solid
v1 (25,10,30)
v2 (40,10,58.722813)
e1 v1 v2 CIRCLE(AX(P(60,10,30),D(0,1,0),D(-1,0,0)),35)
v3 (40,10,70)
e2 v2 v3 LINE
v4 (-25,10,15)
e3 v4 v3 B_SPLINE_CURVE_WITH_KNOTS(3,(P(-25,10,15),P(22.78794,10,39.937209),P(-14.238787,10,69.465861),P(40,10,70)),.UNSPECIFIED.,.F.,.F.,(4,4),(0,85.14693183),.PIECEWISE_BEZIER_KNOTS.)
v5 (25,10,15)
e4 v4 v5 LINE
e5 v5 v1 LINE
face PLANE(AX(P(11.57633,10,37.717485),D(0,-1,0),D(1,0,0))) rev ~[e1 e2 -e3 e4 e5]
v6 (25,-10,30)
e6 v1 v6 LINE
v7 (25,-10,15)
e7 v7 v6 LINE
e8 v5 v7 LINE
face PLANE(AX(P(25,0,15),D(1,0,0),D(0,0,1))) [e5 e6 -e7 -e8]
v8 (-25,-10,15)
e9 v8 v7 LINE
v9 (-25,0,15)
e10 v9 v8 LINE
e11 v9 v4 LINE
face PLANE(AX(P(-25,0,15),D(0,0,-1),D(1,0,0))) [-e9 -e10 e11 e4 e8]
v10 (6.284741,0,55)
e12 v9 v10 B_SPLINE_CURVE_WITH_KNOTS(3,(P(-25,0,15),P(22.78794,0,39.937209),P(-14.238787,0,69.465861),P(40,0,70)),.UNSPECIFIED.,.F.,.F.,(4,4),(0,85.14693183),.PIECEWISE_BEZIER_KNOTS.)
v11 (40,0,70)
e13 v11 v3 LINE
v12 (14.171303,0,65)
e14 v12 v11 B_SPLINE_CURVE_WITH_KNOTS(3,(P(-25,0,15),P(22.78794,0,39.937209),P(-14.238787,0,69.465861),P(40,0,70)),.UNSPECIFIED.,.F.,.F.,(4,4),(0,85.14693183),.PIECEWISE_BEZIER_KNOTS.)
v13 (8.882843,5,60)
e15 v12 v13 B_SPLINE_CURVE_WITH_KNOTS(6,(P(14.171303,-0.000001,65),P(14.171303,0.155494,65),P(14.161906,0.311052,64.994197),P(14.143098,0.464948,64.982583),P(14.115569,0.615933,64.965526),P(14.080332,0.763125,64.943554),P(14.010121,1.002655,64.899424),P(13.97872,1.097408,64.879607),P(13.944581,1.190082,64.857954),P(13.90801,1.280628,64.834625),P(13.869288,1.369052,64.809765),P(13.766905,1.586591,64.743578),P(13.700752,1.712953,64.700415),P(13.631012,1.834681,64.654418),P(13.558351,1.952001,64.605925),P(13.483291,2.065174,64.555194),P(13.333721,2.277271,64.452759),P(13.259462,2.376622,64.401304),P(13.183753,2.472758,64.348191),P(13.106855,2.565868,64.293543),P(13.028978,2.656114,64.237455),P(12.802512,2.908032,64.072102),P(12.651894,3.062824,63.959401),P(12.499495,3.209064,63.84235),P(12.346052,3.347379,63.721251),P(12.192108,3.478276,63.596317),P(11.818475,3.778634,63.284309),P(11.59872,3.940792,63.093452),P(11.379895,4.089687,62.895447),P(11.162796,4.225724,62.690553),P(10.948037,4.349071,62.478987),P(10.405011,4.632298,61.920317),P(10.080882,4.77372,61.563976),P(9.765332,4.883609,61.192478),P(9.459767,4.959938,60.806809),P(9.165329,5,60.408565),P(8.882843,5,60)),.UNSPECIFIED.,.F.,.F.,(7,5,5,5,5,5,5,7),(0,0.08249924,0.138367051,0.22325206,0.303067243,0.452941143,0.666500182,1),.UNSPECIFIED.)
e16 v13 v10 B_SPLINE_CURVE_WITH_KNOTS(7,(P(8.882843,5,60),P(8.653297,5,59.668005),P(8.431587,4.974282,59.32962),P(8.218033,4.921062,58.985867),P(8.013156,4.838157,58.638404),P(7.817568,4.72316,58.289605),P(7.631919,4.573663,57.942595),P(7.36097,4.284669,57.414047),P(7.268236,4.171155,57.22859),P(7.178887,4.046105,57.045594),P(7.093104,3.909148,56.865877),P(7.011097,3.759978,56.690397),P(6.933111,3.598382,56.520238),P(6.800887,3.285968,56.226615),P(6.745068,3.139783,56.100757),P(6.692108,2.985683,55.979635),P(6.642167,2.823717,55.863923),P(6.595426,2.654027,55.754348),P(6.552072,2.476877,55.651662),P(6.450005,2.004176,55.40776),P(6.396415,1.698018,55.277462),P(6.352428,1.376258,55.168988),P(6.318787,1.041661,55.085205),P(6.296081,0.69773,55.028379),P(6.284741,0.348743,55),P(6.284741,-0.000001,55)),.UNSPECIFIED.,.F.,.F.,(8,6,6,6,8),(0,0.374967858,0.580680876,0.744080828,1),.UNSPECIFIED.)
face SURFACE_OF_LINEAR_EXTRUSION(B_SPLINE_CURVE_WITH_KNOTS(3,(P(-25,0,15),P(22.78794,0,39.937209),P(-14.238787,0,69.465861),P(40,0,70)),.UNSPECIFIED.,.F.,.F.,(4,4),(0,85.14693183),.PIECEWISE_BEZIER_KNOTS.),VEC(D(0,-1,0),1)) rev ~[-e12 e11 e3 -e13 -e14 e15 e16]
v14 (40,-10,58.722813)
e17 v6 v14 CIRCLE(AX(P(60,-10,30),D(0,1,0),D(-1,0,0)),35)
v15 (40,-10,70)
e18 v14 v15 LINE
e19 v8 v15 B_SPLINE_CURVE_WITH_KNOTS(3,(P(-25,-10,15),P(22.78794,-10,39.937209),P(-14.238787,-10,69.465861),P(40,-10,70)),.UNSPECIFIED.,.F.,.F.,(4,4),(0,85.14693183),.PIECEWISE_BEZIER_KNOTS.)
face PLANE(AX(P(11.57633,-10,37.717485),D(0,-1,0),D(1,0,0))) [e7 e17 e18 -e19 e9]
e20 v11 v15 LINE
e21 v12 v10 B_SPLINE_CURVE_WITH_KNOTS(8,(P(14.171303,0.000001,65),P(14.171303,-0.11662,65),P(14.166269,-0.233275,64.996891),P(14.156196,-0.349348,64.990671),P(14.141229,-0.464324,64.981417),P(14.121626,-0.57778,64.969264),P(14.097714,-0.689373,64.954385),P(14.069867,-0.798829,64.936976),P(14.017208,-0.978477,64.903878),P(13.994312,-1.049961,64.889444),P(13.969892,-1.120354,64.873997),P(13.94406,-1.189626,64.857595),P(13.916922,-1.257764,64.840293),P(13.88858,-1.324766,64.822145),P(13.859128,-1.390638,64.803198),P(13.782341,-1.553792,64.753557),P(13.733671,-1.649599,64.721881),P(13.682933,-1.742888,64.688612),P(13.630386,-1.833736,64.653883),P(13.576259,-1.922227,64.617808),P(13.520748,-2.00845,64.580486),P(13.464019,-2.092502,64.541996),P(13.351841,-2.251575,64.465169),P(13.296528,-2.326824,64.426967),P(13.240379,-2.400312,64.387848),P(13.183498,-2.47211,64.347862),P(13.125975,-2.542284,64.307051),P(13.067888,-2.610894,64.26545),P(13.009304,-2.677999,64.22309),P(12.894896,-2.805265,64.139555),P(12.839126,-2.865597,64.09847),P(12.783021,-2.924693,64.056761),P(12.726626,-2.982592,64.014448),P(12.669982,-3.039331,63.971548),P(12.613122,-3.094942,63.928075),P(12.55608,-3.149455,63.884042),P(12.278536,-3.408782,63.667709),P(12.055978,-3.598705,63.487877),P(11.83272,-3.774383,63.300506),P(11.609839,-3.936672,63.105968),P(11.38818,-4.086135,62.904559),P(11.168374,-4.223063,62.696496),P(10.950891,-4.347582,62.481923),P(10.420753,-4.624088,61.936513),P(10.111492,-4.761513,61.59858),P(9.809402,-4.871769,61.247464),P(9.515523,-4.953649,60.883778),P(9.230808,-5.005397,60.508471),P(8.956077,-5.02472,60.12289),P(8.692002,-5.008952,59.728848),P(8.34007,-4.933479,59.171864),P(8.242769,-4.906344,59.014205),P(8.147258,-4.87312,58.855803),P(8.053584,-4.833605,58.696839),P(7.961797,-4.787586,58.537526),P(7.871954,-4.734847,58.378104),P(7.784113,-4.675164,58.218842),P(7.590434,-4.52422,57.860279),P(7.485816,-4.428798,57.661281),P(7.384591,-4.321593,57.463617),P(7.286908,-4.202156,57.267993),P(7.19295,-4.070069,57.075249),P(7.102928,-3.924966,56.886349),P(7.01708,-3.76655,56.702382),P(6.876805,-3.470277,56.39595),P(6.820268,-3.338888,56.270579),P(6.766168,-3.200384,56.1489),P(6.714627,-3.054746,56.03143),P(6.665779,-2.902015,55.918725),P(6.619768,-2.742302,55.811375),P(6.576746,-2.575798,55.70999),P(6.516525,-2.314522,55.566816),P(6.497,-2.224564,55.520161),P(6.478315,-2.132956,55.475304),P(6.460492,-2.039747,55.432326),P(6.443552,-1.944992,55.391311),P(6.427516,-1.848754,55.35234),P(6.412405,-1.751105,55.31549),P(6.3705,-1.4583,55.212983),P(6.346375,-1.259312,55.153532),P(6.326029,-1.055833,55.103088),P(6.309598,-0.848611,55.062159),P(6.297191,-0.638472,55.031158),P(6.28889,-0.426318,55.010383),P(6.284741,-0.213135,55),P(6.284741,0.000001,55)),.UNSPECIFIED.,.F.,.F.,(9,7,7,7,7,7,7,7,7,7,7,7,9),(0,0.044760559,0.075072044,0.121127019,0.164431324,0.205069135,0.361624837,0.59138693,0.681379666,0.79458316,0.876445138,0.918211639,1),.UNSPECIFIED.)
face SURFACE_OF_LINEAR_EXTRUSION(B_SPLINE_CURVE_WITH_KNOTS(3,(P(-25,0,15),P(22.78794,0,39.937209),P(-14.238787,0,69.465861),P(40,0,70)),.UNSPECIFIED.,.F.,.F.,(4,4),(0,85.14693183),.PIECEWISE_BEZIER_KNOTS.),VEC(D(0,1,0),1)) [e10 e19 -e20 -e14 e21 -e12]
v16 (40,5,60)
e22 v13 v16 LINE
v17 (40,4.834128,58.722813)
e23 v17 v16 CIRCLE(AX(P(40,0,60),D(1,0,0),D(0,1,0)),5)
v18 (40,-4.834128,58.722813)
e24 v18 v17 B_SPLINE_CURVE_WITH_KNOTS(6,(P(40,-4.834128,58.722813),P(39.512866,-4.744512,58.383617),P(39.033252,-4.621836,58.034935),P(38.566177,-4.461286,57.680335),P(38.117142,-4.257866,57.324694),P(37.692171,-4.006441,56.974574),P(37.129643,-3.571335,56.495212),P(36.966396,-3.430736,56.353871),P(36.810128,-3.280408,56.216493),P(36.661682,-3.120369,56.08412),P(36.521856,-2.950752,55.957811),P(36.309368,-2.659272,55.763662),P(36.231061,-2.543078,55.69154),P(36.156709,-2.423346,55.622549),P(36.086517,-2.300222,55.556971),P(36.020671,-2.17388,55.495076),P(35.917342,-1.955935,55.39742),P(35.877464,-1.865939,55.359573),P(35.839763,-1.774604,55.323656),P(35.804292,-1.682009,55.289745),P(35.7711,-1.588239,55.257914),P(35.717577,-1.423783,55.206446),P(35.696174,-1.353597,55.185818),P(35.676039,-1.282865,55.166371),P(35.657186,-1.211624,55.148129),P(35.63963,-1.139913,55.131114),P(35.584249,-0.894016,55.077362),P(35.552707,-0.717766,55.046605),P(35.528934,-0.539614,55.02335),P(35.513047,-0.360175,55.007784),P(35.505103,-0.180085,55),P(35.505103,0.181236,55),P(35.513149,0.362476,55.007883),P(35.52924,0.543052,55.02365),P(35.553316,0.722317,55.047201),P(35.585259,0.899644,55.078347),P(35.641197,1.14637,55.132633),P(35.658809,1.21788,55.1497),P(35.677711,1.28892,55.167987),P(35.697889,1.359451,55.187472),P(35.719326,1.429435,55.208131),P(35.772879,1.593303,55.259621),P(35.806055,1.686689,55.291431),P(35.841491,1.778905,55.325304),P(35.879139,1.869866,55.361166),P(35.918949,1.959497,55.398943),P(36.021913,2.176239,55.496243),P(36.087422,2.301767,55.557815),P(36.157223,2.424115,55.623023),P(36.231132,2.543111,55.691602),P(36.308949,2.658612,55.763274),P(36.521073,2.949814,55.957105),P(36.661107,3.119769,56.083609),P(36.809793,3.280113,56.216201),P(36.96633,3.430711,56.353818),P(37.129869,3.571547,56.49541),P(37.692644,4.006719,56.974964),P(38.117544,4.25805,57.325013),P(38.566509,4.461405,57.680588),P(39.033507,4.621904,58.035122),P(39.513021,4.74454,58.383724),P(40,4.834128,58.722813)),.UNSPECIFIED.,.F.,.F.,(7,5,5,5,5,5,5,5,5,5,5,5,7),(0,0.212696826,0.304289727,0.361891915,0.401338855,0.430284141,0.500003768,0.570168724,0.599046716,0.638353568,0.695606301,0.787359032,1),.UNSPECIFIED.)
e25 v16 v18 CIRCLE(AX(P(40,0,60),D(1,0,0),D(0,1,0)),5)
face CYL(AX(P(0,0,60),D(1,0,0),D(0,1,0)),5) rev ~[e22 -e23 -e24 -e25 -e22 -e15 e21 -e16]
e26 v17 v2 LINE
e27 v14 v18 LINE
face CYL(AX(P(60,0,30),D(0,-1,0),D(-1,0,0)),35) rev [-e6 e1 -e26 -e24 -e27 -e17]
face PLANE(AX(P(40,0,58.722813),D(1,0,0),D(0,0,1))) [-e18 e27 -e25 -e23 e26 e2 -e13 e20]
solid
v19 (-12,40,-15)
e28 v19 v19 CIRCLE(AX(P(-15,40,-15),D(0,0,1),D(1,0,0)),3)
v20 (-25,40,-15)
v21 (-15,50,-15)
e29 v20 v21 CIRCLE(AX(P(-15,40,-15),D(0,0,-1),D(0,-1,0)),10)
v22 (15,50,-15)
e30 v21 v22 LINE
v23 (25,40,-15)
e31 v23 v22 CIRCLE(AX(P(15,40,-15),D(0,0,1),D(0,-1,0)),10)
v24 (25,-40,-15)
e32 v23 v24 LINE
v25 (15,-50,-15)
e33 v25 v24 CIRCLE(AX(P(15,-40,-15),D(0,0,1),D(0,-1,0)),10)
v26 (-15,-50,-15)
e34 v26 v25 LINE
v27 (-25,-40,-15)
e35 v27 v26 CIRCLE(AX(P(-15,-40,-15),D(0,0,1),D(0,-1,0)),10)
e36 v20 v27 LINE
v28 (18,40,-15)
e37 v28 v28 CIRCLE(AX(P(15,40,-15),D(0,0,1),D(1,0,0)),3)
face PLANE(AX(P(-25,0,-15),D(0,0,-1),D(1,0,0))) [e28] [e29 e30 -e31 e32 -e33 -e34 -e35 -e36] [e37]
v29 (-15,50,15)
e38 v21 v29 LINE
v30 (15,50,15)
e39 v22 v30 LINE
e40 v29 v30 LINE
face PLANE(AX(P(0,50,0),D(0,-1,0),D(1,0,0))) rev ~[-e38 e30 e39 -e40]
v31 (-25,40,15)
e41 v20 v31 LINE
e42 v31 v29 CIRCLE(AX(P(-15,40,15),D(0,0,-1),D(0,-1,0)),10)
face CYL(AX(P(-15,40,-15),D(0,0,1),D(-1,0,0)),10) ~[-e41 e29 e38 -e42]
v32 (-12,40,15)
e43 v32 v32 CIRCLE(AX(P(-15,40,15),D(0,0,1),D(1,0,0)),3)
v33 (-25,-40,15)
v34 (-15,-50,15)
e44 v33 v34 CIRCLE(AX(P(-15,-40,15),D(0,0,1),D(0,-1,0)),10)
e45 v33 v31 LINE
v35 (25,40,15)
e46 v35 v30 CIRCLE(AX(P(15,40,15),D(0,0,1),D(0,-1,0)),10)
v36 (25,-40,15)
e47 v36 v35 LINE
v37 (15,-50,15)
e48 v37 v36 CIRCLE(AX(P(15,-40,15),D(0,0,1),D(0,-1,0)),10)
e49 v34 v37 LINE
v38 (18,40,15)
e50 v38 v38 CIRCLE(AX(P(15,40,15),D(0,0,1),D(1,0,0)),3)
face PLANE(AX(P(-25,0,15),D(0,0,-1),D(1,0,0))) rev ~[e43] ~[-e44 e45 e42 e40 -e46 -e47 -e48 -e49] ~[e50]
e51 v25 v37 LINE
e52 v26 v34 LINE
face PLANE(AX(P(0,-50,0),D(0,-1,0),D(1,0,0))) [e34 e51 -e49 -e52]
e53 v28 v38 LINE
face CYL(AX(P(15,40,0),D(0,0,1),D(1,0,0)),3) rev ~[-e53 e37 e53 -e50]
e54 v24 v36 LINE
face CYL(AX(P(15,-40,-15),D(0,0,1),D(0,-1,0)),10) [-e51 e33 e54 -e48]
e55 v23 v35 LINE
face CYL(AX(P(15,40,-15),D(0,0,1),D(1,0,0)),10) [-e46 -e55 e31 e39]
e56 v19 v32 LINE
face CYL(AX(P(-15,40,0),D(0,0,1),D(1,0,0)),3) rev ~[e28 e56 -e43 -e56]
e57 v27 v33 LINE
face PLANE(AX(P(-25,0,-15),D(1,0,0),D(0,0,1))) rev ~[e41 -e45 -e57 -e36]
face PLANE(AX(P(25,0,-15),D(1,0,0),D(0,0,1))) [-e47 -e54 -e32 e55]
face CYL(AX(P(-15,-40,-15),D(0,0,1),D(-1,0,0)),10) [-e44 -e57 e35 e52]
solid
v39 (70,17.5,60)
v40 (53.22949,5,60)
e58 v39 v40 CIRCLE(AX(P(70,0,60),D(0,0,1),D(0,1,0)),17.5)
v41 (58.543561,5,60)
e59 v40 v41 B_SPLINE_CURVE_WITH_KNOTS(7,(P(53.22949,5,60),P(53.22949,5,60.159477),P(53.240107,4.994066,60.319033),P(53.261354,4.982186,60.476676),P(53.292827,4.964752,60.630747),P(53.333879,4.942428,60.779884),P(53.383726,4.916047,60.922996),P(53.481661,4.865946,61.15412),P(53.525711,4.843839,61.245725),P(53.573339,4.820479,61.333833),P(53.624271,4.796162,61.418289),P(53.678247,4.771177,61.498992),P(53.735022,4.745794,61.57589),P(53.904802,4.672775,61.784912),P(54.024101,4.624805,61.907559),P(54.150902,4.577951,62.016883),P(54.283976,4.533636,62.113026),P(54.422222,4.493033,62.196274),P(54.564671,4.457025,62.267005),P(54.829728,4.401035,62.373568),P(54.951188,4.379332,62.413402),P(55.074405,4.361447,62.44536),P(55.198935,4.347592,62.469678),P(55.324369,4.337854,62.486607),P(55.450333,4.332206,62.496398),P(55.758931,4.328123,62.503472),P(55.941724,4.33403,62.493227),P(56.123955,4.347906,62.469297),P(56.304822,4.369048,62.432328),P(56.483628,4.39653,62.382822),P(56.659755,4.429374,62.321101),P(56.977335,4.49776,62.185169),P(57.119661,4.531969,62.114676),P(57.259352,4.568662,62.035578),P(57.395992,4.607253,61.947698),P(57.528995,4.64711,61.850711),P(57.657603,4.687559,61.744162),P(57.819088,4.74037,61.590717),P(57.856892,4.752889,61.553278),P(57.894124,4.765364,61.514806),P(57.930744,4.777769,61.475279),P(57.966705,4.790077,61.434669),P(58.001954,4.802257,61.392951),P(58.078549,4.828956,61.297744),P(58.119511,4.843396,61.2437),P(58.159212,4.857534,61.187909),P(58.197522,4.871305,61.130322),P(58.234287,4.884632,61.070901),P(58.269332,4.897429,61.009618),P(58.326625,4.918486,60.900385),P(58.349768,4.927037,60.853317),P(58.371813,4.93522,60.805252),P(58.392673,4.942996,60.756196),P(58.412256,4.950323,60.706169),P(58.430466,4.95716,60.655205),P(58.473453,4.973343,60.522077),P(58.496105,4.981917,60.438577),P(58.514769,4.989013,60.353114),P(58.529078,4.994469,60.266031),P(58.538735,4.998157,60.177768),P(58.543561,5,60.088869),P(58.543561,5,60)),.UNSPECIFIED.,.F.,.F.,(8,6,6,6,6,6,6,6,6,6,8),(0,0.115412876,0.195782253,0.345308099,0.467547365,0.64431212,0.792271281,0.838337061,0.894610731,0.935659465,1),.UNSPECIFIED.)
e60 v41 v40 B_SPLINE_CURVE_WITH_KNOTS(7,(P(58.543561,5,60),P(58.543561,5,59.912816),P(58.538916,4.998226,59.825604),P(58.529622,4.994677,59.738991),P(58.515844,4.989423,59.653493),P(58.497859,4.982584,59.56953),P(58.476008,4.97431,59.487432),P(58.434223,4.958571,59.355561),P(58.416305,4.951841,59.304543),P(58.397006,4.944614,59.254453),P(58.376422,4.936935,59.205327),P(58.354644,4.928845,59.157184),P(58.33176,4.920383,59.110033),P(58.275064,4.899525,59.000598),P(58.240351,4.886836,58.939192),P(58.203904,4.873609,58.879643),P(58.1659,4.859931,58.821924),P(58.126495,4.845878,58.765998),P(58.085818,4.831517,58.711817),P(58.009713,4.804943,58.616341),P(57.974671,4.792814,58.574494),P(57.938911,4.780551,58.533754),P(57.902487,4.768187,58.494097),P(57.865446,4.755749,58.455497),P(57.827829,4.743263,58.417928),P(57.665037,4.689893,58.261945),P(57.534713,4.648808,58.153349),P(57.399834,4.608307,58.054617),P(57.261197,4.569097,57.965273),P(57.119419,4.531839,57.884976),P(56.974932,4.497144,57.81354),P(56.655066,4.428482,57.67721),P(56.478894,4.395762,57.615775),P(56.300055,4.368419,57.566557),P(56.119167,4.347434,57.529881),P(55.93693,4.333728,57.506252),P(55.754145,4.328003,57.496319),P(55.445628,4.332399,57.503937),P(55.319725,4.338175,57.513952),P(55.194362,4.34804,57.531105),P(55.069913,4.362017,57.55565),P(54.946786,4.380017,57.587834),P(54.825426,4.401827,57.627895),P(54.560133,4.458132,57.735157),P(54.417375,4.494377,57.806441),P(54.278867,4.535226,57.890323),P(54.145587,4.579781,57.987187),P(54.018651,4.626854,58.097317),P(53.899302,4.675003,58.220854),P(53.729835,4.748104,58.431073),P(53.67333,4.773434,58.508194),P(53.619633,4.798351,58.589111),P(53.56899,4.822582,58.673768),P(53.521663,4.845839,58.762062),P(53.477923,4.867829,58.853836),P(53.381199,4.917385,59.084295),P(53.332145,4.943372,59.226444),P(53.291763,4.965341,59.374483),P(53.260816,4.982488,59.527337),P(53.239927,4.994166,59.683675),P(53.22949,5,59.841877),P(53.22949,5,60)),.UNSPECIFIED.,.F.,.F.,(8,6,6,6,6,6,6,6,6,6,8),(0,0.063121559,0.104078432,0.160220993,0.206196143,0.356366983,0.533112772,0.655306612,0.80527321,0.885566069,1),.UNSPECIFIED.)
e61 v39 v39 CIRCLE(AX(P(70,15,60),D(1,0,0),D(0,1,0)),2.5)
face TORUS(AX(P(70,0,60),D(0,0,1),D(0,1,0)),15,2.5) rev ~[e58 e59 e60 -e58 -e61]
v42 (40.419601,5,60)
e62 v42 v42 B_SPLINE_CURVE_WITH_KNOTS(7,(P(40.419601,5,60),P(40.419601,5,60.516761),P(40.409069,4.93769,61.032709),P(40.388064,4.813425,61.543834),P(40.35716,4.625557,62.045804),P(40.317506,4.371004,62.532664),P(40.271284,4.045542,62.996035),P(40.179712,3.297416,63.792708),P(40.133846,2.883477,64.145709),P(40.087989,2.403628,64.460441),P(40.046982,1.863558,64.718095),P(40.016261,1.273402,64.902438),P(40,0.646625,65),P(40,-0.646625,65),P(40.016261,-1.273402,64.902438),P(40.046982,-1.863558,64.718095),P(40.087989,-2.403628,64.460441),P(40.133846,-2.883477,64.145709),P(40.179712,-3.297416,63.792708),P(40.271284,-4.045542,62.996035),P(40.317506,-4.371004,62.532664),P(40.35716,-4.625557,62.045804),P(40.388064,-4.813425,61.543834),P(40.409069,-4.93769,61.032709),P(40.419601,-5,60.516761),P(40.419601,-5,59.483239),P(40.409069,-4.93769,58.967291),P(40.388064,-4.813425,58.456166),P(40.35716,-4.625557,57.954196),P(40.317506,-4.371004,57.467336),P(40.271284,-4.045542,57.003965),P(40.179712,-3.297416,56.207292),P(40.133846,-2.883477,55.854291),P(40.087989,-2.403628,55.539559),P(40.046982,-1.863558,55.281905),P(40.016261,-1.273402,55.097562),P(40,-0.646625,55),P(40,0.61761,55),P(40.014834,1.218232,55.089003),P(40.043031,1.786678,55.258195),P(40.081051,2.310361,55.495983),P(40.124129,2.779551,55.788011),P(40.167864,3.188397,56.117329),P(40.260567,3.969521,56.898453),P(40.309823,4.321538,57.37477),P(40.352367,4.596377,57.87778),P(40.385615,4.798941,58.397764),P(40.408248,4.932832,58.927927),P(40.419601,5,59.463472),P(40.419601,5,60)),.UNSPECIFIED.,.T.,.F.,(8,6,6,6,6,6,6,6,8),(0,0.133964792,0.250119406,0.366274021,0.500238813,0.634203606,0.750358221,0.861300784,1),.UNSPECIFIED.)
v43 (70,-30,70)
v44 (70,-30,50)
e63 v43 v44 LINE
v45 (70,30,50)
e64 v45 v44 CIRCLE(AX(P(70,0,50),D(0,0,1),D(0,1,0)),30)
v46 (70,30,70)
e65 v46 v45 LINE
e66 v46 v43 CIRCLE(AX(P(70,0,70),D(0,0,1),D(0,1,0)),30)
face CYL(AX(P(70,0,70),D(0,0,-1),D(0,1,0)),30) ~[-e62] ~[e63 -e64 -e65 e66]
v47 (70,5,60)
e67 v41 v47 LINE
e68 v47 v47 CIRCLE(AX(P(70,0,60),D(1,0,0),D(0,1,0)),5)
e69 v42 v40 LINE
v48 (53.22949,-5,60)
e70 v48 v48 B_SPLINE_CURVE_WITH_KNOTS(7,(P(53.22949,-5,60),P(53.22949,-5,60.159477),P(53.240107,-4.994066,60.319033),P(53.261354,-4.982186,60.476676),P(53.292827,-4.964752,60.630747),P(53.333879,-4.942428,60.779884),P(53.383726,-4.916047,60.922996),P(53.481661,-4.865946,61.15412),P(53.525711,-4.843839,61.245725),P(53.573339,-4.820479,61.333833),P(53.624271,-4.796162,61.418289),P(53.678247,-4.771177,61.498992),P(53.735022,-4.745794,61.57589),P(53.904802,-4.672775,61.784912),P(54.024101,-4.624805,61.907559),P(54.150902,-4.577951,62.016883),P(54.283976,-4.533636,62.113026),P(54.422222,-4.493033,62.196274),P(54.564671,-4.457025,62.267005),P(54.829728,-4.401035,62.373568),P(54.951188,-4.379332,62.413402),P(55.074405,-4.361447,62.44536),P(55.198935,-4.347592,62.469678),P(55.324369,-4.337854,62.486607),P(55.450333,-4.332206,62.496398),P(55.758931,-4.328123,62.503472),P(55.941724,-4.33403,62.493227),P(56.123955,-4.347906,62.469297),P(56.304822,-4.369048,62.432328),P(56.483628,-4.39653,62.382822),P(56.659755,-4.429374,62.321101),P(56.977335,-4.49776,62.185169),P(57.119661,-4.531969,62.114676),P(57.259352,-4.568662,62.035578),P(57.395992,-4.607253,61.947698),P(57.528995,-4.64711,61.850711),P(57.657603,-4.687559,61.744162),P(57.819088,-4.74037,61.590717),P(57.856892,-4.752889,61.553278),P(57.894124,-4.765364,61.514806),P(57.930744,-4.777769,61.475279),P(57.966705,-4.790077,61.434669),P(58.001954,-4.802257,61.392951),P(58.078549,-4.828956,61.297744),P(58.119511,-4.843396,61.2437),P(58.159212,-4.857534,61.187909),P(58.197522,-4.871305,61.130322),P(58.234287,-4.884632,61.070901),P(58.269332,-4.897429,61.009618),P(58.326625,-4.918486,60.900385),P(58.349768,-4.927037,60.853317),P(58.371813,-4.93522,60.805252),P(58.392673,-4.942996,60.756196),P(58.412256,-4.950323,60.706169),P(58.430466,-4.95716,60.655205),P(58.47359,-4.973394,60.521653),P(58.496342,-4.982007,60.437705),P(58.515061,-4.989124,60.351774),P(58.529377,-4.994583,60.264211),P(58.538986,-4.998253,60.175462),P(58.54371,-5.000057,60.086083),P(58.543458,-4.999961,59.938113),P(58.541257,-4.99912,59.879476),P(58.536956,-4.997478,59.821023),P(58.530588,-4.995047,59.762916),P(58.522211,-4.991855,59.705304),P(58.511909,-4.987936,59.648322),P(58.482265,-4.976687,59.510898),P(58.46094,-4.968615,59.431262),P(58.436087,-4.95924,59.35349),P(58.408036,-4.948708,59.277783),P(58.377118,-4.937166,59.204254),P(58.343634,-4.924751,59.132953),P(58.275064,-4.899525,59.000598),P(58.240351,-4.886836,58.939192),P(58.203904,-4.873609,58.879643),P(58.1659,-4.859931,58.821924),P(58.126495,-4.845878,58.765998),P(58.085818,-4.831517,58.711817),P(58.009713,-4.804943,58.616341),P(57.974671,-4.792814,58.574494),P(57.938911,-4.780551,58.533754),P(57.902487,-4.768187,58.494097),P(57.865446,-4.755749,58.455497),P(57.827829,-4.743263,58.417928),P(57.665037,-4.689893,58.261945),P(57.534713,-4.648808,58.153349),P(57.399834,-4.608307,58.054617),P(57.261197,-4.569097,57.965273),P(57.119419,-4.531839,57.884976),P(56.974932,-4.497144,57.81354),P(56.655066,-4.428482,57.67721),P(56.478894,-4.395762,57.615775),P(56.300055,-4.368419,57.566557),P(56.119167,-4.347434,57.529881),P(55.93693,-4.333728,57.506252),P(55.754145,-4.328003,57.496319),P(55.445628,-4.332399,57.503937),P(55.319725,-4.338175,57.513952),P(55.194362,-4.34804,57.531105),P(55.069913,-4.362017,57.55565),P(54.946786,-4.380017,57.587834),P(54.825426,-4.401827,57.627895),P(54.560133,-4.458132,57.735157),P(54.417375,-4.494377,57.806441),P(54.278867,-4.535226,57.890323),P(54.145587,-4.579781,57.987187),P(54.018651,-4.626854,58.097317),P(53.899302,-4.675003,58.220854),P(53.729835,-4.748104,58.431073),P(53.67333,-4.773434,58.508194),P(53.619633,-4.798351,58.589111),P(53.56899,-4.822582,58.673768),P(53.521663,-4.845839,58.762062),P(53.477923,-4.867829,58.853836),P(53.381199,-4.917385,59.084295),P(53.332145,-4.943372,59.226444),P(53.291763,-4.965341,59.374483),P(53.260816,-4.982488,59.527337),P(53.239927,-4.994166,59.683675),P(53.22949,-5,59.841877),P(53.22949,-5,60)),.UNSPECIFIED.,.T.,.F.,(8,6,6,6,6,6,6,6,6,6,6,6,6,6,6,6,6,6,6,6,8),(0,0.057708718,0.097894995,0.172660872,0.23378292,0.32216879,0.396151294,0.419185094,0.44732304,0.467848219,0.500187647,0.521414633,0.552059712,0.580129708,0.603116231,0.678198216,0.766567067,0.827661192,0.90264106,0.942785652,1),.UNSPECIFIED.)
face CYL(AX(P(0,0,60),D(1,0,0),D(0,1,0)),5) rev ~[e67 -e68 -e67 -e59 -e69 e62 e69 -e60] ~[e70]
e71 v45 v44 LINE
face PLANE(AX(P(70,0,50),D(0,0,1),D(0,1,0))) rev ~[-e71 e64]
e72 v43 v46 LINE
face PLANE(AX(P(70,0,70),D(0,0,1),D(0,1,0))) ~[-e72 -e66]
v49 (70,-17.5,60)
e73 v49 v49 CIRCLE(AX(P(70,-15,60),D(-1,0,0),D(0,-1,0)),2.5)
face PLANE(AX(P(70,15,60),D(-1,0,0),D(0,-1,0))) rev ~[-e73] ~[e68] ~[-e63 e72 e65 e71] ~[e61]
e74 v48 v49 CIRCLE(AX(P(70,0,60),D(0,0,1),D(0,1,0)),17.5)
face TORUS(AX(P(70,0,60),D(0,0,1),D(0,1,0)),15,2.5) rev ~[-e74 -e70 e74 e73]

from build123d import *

# Parameters (mm, degrees)
F0_W          = 50
F0_H          = 30
F1_DEPTH      = 50
F2_DEPTH      = 10
F3_ANGLE_BACK = 90
F3_ANGLE      = 180
F4_R          = 10
F5_R          = 3
F6_DEPTH      = 17.5
F7_DEPTH      = 15
F8_R          = 5
F9_DEPTH      = 100


with BuildPart() as f1:
    # F0 (on Front) → F1 (new body, symmetric)
    with BuildSketch(Plane.XZ):
        Rectangle(F0_W, F0_H)
    extrude(amount=F1_DEPTH, both=True)

    # F4
    f4_edges = [f1.edges().sort_by_distance(p)[0] for p in [
        (-25, -50, 0),
        (25, -50, 0),
        (25, 50, 0),
        (-25, 50, 0),
    ]]
    fillet(f4_edges, radius=F4_R)

    # F5 (on Top) → F6 (cut, symmetric)
    with BuildSketch(Plane.XY):
        with Locations((-15, 40)):
            Circle(F5_R)
    extrude(amount=F6_DEPTH, both=True, mode=Mode.SUBTRACT)

    # F5 (on Top) → F7 (cut, symmetric)
    with BuildSketch(Plane.XY):
        with Locations((15, 40)):
            Circle(F5_R)
    extrude(amount=F7_DEPTH, both=True, mode=Mode.SUBTRACT)


with BuildPart() as f2:
    # F0 (on Front) → F2 (new body, symmetric)
    with BuildSketch(Plane.XZ):
        with BuildLine():
            Line((-25, 15), (25, 15))
            Line((25, 15), (25, 30))
            ThreePointArc((25, 30), (28.975815885, 46.201851746), (40, 58.7228132327))
            Line((40, 58.7228132327), (40, 70))
            add(Edge.make_bspline(
                [(-25, 15), (22.7879397571, 39.9372093379), (-14.2387868837, 69.4658607244), (40, 70)],
                knots=[0, 0, 0, 0, 85.1469318296, 85.1469318296, 85.1469318296, 85.1469318296], degree=3))
        make_face()
    extrude(amount=F2_DEPTH, both=True)


with BuildPart() as f3:
    # F0 (on Front) → F3 (revolve)
    with BuildSketch(Plane.XZ, mode=Mode.PRIVATE) as f3_sk:
        Polygon((70, 70), (40, 70), (40, 58.7228132327), (40, 50), (70, 50), align=None)
        with BuildLine():
            ThreePointArc((57.5, 60), (55, 57.5), (52.5, 60))
            ThreePointArc((52.5, 60), (55, 62.5), (57.5, 60))
        make_face(mode=Mode.SUBTRACT)
    revolve(f3_sk.sketch.rotate(Axis((70, 0, 60), (0, 0, 1)), -F3_ANGLE_BACK), axis=Axis((70, 0, 60), (0, 0, 1)), revolution_arc=F3_ANGLE)


with BuildPart() as f9_tool:
    # F8 (on Right) → F9 (new body, symmetric)
    with BuildSketch(Plane.YZ):
        with Locations((0, 60)):
            Circle(F8_R)
    extrude(amount=F9_DEPTH, both=True)


with BuildPart() as f2_1:
    add(f2.part)

    # F9: cut by f9_tool
    add(f9_tool.part, mode=Mode.SUBTRACT)


with BuildPart() as f3_1:
    add(f3.part)

    # F9: cut by f9_tool
    add(f9_tool.part, mode=Mode.SUBTRACT)


solid = Compound([f1.part, f2_1.part, f3_1.part])
